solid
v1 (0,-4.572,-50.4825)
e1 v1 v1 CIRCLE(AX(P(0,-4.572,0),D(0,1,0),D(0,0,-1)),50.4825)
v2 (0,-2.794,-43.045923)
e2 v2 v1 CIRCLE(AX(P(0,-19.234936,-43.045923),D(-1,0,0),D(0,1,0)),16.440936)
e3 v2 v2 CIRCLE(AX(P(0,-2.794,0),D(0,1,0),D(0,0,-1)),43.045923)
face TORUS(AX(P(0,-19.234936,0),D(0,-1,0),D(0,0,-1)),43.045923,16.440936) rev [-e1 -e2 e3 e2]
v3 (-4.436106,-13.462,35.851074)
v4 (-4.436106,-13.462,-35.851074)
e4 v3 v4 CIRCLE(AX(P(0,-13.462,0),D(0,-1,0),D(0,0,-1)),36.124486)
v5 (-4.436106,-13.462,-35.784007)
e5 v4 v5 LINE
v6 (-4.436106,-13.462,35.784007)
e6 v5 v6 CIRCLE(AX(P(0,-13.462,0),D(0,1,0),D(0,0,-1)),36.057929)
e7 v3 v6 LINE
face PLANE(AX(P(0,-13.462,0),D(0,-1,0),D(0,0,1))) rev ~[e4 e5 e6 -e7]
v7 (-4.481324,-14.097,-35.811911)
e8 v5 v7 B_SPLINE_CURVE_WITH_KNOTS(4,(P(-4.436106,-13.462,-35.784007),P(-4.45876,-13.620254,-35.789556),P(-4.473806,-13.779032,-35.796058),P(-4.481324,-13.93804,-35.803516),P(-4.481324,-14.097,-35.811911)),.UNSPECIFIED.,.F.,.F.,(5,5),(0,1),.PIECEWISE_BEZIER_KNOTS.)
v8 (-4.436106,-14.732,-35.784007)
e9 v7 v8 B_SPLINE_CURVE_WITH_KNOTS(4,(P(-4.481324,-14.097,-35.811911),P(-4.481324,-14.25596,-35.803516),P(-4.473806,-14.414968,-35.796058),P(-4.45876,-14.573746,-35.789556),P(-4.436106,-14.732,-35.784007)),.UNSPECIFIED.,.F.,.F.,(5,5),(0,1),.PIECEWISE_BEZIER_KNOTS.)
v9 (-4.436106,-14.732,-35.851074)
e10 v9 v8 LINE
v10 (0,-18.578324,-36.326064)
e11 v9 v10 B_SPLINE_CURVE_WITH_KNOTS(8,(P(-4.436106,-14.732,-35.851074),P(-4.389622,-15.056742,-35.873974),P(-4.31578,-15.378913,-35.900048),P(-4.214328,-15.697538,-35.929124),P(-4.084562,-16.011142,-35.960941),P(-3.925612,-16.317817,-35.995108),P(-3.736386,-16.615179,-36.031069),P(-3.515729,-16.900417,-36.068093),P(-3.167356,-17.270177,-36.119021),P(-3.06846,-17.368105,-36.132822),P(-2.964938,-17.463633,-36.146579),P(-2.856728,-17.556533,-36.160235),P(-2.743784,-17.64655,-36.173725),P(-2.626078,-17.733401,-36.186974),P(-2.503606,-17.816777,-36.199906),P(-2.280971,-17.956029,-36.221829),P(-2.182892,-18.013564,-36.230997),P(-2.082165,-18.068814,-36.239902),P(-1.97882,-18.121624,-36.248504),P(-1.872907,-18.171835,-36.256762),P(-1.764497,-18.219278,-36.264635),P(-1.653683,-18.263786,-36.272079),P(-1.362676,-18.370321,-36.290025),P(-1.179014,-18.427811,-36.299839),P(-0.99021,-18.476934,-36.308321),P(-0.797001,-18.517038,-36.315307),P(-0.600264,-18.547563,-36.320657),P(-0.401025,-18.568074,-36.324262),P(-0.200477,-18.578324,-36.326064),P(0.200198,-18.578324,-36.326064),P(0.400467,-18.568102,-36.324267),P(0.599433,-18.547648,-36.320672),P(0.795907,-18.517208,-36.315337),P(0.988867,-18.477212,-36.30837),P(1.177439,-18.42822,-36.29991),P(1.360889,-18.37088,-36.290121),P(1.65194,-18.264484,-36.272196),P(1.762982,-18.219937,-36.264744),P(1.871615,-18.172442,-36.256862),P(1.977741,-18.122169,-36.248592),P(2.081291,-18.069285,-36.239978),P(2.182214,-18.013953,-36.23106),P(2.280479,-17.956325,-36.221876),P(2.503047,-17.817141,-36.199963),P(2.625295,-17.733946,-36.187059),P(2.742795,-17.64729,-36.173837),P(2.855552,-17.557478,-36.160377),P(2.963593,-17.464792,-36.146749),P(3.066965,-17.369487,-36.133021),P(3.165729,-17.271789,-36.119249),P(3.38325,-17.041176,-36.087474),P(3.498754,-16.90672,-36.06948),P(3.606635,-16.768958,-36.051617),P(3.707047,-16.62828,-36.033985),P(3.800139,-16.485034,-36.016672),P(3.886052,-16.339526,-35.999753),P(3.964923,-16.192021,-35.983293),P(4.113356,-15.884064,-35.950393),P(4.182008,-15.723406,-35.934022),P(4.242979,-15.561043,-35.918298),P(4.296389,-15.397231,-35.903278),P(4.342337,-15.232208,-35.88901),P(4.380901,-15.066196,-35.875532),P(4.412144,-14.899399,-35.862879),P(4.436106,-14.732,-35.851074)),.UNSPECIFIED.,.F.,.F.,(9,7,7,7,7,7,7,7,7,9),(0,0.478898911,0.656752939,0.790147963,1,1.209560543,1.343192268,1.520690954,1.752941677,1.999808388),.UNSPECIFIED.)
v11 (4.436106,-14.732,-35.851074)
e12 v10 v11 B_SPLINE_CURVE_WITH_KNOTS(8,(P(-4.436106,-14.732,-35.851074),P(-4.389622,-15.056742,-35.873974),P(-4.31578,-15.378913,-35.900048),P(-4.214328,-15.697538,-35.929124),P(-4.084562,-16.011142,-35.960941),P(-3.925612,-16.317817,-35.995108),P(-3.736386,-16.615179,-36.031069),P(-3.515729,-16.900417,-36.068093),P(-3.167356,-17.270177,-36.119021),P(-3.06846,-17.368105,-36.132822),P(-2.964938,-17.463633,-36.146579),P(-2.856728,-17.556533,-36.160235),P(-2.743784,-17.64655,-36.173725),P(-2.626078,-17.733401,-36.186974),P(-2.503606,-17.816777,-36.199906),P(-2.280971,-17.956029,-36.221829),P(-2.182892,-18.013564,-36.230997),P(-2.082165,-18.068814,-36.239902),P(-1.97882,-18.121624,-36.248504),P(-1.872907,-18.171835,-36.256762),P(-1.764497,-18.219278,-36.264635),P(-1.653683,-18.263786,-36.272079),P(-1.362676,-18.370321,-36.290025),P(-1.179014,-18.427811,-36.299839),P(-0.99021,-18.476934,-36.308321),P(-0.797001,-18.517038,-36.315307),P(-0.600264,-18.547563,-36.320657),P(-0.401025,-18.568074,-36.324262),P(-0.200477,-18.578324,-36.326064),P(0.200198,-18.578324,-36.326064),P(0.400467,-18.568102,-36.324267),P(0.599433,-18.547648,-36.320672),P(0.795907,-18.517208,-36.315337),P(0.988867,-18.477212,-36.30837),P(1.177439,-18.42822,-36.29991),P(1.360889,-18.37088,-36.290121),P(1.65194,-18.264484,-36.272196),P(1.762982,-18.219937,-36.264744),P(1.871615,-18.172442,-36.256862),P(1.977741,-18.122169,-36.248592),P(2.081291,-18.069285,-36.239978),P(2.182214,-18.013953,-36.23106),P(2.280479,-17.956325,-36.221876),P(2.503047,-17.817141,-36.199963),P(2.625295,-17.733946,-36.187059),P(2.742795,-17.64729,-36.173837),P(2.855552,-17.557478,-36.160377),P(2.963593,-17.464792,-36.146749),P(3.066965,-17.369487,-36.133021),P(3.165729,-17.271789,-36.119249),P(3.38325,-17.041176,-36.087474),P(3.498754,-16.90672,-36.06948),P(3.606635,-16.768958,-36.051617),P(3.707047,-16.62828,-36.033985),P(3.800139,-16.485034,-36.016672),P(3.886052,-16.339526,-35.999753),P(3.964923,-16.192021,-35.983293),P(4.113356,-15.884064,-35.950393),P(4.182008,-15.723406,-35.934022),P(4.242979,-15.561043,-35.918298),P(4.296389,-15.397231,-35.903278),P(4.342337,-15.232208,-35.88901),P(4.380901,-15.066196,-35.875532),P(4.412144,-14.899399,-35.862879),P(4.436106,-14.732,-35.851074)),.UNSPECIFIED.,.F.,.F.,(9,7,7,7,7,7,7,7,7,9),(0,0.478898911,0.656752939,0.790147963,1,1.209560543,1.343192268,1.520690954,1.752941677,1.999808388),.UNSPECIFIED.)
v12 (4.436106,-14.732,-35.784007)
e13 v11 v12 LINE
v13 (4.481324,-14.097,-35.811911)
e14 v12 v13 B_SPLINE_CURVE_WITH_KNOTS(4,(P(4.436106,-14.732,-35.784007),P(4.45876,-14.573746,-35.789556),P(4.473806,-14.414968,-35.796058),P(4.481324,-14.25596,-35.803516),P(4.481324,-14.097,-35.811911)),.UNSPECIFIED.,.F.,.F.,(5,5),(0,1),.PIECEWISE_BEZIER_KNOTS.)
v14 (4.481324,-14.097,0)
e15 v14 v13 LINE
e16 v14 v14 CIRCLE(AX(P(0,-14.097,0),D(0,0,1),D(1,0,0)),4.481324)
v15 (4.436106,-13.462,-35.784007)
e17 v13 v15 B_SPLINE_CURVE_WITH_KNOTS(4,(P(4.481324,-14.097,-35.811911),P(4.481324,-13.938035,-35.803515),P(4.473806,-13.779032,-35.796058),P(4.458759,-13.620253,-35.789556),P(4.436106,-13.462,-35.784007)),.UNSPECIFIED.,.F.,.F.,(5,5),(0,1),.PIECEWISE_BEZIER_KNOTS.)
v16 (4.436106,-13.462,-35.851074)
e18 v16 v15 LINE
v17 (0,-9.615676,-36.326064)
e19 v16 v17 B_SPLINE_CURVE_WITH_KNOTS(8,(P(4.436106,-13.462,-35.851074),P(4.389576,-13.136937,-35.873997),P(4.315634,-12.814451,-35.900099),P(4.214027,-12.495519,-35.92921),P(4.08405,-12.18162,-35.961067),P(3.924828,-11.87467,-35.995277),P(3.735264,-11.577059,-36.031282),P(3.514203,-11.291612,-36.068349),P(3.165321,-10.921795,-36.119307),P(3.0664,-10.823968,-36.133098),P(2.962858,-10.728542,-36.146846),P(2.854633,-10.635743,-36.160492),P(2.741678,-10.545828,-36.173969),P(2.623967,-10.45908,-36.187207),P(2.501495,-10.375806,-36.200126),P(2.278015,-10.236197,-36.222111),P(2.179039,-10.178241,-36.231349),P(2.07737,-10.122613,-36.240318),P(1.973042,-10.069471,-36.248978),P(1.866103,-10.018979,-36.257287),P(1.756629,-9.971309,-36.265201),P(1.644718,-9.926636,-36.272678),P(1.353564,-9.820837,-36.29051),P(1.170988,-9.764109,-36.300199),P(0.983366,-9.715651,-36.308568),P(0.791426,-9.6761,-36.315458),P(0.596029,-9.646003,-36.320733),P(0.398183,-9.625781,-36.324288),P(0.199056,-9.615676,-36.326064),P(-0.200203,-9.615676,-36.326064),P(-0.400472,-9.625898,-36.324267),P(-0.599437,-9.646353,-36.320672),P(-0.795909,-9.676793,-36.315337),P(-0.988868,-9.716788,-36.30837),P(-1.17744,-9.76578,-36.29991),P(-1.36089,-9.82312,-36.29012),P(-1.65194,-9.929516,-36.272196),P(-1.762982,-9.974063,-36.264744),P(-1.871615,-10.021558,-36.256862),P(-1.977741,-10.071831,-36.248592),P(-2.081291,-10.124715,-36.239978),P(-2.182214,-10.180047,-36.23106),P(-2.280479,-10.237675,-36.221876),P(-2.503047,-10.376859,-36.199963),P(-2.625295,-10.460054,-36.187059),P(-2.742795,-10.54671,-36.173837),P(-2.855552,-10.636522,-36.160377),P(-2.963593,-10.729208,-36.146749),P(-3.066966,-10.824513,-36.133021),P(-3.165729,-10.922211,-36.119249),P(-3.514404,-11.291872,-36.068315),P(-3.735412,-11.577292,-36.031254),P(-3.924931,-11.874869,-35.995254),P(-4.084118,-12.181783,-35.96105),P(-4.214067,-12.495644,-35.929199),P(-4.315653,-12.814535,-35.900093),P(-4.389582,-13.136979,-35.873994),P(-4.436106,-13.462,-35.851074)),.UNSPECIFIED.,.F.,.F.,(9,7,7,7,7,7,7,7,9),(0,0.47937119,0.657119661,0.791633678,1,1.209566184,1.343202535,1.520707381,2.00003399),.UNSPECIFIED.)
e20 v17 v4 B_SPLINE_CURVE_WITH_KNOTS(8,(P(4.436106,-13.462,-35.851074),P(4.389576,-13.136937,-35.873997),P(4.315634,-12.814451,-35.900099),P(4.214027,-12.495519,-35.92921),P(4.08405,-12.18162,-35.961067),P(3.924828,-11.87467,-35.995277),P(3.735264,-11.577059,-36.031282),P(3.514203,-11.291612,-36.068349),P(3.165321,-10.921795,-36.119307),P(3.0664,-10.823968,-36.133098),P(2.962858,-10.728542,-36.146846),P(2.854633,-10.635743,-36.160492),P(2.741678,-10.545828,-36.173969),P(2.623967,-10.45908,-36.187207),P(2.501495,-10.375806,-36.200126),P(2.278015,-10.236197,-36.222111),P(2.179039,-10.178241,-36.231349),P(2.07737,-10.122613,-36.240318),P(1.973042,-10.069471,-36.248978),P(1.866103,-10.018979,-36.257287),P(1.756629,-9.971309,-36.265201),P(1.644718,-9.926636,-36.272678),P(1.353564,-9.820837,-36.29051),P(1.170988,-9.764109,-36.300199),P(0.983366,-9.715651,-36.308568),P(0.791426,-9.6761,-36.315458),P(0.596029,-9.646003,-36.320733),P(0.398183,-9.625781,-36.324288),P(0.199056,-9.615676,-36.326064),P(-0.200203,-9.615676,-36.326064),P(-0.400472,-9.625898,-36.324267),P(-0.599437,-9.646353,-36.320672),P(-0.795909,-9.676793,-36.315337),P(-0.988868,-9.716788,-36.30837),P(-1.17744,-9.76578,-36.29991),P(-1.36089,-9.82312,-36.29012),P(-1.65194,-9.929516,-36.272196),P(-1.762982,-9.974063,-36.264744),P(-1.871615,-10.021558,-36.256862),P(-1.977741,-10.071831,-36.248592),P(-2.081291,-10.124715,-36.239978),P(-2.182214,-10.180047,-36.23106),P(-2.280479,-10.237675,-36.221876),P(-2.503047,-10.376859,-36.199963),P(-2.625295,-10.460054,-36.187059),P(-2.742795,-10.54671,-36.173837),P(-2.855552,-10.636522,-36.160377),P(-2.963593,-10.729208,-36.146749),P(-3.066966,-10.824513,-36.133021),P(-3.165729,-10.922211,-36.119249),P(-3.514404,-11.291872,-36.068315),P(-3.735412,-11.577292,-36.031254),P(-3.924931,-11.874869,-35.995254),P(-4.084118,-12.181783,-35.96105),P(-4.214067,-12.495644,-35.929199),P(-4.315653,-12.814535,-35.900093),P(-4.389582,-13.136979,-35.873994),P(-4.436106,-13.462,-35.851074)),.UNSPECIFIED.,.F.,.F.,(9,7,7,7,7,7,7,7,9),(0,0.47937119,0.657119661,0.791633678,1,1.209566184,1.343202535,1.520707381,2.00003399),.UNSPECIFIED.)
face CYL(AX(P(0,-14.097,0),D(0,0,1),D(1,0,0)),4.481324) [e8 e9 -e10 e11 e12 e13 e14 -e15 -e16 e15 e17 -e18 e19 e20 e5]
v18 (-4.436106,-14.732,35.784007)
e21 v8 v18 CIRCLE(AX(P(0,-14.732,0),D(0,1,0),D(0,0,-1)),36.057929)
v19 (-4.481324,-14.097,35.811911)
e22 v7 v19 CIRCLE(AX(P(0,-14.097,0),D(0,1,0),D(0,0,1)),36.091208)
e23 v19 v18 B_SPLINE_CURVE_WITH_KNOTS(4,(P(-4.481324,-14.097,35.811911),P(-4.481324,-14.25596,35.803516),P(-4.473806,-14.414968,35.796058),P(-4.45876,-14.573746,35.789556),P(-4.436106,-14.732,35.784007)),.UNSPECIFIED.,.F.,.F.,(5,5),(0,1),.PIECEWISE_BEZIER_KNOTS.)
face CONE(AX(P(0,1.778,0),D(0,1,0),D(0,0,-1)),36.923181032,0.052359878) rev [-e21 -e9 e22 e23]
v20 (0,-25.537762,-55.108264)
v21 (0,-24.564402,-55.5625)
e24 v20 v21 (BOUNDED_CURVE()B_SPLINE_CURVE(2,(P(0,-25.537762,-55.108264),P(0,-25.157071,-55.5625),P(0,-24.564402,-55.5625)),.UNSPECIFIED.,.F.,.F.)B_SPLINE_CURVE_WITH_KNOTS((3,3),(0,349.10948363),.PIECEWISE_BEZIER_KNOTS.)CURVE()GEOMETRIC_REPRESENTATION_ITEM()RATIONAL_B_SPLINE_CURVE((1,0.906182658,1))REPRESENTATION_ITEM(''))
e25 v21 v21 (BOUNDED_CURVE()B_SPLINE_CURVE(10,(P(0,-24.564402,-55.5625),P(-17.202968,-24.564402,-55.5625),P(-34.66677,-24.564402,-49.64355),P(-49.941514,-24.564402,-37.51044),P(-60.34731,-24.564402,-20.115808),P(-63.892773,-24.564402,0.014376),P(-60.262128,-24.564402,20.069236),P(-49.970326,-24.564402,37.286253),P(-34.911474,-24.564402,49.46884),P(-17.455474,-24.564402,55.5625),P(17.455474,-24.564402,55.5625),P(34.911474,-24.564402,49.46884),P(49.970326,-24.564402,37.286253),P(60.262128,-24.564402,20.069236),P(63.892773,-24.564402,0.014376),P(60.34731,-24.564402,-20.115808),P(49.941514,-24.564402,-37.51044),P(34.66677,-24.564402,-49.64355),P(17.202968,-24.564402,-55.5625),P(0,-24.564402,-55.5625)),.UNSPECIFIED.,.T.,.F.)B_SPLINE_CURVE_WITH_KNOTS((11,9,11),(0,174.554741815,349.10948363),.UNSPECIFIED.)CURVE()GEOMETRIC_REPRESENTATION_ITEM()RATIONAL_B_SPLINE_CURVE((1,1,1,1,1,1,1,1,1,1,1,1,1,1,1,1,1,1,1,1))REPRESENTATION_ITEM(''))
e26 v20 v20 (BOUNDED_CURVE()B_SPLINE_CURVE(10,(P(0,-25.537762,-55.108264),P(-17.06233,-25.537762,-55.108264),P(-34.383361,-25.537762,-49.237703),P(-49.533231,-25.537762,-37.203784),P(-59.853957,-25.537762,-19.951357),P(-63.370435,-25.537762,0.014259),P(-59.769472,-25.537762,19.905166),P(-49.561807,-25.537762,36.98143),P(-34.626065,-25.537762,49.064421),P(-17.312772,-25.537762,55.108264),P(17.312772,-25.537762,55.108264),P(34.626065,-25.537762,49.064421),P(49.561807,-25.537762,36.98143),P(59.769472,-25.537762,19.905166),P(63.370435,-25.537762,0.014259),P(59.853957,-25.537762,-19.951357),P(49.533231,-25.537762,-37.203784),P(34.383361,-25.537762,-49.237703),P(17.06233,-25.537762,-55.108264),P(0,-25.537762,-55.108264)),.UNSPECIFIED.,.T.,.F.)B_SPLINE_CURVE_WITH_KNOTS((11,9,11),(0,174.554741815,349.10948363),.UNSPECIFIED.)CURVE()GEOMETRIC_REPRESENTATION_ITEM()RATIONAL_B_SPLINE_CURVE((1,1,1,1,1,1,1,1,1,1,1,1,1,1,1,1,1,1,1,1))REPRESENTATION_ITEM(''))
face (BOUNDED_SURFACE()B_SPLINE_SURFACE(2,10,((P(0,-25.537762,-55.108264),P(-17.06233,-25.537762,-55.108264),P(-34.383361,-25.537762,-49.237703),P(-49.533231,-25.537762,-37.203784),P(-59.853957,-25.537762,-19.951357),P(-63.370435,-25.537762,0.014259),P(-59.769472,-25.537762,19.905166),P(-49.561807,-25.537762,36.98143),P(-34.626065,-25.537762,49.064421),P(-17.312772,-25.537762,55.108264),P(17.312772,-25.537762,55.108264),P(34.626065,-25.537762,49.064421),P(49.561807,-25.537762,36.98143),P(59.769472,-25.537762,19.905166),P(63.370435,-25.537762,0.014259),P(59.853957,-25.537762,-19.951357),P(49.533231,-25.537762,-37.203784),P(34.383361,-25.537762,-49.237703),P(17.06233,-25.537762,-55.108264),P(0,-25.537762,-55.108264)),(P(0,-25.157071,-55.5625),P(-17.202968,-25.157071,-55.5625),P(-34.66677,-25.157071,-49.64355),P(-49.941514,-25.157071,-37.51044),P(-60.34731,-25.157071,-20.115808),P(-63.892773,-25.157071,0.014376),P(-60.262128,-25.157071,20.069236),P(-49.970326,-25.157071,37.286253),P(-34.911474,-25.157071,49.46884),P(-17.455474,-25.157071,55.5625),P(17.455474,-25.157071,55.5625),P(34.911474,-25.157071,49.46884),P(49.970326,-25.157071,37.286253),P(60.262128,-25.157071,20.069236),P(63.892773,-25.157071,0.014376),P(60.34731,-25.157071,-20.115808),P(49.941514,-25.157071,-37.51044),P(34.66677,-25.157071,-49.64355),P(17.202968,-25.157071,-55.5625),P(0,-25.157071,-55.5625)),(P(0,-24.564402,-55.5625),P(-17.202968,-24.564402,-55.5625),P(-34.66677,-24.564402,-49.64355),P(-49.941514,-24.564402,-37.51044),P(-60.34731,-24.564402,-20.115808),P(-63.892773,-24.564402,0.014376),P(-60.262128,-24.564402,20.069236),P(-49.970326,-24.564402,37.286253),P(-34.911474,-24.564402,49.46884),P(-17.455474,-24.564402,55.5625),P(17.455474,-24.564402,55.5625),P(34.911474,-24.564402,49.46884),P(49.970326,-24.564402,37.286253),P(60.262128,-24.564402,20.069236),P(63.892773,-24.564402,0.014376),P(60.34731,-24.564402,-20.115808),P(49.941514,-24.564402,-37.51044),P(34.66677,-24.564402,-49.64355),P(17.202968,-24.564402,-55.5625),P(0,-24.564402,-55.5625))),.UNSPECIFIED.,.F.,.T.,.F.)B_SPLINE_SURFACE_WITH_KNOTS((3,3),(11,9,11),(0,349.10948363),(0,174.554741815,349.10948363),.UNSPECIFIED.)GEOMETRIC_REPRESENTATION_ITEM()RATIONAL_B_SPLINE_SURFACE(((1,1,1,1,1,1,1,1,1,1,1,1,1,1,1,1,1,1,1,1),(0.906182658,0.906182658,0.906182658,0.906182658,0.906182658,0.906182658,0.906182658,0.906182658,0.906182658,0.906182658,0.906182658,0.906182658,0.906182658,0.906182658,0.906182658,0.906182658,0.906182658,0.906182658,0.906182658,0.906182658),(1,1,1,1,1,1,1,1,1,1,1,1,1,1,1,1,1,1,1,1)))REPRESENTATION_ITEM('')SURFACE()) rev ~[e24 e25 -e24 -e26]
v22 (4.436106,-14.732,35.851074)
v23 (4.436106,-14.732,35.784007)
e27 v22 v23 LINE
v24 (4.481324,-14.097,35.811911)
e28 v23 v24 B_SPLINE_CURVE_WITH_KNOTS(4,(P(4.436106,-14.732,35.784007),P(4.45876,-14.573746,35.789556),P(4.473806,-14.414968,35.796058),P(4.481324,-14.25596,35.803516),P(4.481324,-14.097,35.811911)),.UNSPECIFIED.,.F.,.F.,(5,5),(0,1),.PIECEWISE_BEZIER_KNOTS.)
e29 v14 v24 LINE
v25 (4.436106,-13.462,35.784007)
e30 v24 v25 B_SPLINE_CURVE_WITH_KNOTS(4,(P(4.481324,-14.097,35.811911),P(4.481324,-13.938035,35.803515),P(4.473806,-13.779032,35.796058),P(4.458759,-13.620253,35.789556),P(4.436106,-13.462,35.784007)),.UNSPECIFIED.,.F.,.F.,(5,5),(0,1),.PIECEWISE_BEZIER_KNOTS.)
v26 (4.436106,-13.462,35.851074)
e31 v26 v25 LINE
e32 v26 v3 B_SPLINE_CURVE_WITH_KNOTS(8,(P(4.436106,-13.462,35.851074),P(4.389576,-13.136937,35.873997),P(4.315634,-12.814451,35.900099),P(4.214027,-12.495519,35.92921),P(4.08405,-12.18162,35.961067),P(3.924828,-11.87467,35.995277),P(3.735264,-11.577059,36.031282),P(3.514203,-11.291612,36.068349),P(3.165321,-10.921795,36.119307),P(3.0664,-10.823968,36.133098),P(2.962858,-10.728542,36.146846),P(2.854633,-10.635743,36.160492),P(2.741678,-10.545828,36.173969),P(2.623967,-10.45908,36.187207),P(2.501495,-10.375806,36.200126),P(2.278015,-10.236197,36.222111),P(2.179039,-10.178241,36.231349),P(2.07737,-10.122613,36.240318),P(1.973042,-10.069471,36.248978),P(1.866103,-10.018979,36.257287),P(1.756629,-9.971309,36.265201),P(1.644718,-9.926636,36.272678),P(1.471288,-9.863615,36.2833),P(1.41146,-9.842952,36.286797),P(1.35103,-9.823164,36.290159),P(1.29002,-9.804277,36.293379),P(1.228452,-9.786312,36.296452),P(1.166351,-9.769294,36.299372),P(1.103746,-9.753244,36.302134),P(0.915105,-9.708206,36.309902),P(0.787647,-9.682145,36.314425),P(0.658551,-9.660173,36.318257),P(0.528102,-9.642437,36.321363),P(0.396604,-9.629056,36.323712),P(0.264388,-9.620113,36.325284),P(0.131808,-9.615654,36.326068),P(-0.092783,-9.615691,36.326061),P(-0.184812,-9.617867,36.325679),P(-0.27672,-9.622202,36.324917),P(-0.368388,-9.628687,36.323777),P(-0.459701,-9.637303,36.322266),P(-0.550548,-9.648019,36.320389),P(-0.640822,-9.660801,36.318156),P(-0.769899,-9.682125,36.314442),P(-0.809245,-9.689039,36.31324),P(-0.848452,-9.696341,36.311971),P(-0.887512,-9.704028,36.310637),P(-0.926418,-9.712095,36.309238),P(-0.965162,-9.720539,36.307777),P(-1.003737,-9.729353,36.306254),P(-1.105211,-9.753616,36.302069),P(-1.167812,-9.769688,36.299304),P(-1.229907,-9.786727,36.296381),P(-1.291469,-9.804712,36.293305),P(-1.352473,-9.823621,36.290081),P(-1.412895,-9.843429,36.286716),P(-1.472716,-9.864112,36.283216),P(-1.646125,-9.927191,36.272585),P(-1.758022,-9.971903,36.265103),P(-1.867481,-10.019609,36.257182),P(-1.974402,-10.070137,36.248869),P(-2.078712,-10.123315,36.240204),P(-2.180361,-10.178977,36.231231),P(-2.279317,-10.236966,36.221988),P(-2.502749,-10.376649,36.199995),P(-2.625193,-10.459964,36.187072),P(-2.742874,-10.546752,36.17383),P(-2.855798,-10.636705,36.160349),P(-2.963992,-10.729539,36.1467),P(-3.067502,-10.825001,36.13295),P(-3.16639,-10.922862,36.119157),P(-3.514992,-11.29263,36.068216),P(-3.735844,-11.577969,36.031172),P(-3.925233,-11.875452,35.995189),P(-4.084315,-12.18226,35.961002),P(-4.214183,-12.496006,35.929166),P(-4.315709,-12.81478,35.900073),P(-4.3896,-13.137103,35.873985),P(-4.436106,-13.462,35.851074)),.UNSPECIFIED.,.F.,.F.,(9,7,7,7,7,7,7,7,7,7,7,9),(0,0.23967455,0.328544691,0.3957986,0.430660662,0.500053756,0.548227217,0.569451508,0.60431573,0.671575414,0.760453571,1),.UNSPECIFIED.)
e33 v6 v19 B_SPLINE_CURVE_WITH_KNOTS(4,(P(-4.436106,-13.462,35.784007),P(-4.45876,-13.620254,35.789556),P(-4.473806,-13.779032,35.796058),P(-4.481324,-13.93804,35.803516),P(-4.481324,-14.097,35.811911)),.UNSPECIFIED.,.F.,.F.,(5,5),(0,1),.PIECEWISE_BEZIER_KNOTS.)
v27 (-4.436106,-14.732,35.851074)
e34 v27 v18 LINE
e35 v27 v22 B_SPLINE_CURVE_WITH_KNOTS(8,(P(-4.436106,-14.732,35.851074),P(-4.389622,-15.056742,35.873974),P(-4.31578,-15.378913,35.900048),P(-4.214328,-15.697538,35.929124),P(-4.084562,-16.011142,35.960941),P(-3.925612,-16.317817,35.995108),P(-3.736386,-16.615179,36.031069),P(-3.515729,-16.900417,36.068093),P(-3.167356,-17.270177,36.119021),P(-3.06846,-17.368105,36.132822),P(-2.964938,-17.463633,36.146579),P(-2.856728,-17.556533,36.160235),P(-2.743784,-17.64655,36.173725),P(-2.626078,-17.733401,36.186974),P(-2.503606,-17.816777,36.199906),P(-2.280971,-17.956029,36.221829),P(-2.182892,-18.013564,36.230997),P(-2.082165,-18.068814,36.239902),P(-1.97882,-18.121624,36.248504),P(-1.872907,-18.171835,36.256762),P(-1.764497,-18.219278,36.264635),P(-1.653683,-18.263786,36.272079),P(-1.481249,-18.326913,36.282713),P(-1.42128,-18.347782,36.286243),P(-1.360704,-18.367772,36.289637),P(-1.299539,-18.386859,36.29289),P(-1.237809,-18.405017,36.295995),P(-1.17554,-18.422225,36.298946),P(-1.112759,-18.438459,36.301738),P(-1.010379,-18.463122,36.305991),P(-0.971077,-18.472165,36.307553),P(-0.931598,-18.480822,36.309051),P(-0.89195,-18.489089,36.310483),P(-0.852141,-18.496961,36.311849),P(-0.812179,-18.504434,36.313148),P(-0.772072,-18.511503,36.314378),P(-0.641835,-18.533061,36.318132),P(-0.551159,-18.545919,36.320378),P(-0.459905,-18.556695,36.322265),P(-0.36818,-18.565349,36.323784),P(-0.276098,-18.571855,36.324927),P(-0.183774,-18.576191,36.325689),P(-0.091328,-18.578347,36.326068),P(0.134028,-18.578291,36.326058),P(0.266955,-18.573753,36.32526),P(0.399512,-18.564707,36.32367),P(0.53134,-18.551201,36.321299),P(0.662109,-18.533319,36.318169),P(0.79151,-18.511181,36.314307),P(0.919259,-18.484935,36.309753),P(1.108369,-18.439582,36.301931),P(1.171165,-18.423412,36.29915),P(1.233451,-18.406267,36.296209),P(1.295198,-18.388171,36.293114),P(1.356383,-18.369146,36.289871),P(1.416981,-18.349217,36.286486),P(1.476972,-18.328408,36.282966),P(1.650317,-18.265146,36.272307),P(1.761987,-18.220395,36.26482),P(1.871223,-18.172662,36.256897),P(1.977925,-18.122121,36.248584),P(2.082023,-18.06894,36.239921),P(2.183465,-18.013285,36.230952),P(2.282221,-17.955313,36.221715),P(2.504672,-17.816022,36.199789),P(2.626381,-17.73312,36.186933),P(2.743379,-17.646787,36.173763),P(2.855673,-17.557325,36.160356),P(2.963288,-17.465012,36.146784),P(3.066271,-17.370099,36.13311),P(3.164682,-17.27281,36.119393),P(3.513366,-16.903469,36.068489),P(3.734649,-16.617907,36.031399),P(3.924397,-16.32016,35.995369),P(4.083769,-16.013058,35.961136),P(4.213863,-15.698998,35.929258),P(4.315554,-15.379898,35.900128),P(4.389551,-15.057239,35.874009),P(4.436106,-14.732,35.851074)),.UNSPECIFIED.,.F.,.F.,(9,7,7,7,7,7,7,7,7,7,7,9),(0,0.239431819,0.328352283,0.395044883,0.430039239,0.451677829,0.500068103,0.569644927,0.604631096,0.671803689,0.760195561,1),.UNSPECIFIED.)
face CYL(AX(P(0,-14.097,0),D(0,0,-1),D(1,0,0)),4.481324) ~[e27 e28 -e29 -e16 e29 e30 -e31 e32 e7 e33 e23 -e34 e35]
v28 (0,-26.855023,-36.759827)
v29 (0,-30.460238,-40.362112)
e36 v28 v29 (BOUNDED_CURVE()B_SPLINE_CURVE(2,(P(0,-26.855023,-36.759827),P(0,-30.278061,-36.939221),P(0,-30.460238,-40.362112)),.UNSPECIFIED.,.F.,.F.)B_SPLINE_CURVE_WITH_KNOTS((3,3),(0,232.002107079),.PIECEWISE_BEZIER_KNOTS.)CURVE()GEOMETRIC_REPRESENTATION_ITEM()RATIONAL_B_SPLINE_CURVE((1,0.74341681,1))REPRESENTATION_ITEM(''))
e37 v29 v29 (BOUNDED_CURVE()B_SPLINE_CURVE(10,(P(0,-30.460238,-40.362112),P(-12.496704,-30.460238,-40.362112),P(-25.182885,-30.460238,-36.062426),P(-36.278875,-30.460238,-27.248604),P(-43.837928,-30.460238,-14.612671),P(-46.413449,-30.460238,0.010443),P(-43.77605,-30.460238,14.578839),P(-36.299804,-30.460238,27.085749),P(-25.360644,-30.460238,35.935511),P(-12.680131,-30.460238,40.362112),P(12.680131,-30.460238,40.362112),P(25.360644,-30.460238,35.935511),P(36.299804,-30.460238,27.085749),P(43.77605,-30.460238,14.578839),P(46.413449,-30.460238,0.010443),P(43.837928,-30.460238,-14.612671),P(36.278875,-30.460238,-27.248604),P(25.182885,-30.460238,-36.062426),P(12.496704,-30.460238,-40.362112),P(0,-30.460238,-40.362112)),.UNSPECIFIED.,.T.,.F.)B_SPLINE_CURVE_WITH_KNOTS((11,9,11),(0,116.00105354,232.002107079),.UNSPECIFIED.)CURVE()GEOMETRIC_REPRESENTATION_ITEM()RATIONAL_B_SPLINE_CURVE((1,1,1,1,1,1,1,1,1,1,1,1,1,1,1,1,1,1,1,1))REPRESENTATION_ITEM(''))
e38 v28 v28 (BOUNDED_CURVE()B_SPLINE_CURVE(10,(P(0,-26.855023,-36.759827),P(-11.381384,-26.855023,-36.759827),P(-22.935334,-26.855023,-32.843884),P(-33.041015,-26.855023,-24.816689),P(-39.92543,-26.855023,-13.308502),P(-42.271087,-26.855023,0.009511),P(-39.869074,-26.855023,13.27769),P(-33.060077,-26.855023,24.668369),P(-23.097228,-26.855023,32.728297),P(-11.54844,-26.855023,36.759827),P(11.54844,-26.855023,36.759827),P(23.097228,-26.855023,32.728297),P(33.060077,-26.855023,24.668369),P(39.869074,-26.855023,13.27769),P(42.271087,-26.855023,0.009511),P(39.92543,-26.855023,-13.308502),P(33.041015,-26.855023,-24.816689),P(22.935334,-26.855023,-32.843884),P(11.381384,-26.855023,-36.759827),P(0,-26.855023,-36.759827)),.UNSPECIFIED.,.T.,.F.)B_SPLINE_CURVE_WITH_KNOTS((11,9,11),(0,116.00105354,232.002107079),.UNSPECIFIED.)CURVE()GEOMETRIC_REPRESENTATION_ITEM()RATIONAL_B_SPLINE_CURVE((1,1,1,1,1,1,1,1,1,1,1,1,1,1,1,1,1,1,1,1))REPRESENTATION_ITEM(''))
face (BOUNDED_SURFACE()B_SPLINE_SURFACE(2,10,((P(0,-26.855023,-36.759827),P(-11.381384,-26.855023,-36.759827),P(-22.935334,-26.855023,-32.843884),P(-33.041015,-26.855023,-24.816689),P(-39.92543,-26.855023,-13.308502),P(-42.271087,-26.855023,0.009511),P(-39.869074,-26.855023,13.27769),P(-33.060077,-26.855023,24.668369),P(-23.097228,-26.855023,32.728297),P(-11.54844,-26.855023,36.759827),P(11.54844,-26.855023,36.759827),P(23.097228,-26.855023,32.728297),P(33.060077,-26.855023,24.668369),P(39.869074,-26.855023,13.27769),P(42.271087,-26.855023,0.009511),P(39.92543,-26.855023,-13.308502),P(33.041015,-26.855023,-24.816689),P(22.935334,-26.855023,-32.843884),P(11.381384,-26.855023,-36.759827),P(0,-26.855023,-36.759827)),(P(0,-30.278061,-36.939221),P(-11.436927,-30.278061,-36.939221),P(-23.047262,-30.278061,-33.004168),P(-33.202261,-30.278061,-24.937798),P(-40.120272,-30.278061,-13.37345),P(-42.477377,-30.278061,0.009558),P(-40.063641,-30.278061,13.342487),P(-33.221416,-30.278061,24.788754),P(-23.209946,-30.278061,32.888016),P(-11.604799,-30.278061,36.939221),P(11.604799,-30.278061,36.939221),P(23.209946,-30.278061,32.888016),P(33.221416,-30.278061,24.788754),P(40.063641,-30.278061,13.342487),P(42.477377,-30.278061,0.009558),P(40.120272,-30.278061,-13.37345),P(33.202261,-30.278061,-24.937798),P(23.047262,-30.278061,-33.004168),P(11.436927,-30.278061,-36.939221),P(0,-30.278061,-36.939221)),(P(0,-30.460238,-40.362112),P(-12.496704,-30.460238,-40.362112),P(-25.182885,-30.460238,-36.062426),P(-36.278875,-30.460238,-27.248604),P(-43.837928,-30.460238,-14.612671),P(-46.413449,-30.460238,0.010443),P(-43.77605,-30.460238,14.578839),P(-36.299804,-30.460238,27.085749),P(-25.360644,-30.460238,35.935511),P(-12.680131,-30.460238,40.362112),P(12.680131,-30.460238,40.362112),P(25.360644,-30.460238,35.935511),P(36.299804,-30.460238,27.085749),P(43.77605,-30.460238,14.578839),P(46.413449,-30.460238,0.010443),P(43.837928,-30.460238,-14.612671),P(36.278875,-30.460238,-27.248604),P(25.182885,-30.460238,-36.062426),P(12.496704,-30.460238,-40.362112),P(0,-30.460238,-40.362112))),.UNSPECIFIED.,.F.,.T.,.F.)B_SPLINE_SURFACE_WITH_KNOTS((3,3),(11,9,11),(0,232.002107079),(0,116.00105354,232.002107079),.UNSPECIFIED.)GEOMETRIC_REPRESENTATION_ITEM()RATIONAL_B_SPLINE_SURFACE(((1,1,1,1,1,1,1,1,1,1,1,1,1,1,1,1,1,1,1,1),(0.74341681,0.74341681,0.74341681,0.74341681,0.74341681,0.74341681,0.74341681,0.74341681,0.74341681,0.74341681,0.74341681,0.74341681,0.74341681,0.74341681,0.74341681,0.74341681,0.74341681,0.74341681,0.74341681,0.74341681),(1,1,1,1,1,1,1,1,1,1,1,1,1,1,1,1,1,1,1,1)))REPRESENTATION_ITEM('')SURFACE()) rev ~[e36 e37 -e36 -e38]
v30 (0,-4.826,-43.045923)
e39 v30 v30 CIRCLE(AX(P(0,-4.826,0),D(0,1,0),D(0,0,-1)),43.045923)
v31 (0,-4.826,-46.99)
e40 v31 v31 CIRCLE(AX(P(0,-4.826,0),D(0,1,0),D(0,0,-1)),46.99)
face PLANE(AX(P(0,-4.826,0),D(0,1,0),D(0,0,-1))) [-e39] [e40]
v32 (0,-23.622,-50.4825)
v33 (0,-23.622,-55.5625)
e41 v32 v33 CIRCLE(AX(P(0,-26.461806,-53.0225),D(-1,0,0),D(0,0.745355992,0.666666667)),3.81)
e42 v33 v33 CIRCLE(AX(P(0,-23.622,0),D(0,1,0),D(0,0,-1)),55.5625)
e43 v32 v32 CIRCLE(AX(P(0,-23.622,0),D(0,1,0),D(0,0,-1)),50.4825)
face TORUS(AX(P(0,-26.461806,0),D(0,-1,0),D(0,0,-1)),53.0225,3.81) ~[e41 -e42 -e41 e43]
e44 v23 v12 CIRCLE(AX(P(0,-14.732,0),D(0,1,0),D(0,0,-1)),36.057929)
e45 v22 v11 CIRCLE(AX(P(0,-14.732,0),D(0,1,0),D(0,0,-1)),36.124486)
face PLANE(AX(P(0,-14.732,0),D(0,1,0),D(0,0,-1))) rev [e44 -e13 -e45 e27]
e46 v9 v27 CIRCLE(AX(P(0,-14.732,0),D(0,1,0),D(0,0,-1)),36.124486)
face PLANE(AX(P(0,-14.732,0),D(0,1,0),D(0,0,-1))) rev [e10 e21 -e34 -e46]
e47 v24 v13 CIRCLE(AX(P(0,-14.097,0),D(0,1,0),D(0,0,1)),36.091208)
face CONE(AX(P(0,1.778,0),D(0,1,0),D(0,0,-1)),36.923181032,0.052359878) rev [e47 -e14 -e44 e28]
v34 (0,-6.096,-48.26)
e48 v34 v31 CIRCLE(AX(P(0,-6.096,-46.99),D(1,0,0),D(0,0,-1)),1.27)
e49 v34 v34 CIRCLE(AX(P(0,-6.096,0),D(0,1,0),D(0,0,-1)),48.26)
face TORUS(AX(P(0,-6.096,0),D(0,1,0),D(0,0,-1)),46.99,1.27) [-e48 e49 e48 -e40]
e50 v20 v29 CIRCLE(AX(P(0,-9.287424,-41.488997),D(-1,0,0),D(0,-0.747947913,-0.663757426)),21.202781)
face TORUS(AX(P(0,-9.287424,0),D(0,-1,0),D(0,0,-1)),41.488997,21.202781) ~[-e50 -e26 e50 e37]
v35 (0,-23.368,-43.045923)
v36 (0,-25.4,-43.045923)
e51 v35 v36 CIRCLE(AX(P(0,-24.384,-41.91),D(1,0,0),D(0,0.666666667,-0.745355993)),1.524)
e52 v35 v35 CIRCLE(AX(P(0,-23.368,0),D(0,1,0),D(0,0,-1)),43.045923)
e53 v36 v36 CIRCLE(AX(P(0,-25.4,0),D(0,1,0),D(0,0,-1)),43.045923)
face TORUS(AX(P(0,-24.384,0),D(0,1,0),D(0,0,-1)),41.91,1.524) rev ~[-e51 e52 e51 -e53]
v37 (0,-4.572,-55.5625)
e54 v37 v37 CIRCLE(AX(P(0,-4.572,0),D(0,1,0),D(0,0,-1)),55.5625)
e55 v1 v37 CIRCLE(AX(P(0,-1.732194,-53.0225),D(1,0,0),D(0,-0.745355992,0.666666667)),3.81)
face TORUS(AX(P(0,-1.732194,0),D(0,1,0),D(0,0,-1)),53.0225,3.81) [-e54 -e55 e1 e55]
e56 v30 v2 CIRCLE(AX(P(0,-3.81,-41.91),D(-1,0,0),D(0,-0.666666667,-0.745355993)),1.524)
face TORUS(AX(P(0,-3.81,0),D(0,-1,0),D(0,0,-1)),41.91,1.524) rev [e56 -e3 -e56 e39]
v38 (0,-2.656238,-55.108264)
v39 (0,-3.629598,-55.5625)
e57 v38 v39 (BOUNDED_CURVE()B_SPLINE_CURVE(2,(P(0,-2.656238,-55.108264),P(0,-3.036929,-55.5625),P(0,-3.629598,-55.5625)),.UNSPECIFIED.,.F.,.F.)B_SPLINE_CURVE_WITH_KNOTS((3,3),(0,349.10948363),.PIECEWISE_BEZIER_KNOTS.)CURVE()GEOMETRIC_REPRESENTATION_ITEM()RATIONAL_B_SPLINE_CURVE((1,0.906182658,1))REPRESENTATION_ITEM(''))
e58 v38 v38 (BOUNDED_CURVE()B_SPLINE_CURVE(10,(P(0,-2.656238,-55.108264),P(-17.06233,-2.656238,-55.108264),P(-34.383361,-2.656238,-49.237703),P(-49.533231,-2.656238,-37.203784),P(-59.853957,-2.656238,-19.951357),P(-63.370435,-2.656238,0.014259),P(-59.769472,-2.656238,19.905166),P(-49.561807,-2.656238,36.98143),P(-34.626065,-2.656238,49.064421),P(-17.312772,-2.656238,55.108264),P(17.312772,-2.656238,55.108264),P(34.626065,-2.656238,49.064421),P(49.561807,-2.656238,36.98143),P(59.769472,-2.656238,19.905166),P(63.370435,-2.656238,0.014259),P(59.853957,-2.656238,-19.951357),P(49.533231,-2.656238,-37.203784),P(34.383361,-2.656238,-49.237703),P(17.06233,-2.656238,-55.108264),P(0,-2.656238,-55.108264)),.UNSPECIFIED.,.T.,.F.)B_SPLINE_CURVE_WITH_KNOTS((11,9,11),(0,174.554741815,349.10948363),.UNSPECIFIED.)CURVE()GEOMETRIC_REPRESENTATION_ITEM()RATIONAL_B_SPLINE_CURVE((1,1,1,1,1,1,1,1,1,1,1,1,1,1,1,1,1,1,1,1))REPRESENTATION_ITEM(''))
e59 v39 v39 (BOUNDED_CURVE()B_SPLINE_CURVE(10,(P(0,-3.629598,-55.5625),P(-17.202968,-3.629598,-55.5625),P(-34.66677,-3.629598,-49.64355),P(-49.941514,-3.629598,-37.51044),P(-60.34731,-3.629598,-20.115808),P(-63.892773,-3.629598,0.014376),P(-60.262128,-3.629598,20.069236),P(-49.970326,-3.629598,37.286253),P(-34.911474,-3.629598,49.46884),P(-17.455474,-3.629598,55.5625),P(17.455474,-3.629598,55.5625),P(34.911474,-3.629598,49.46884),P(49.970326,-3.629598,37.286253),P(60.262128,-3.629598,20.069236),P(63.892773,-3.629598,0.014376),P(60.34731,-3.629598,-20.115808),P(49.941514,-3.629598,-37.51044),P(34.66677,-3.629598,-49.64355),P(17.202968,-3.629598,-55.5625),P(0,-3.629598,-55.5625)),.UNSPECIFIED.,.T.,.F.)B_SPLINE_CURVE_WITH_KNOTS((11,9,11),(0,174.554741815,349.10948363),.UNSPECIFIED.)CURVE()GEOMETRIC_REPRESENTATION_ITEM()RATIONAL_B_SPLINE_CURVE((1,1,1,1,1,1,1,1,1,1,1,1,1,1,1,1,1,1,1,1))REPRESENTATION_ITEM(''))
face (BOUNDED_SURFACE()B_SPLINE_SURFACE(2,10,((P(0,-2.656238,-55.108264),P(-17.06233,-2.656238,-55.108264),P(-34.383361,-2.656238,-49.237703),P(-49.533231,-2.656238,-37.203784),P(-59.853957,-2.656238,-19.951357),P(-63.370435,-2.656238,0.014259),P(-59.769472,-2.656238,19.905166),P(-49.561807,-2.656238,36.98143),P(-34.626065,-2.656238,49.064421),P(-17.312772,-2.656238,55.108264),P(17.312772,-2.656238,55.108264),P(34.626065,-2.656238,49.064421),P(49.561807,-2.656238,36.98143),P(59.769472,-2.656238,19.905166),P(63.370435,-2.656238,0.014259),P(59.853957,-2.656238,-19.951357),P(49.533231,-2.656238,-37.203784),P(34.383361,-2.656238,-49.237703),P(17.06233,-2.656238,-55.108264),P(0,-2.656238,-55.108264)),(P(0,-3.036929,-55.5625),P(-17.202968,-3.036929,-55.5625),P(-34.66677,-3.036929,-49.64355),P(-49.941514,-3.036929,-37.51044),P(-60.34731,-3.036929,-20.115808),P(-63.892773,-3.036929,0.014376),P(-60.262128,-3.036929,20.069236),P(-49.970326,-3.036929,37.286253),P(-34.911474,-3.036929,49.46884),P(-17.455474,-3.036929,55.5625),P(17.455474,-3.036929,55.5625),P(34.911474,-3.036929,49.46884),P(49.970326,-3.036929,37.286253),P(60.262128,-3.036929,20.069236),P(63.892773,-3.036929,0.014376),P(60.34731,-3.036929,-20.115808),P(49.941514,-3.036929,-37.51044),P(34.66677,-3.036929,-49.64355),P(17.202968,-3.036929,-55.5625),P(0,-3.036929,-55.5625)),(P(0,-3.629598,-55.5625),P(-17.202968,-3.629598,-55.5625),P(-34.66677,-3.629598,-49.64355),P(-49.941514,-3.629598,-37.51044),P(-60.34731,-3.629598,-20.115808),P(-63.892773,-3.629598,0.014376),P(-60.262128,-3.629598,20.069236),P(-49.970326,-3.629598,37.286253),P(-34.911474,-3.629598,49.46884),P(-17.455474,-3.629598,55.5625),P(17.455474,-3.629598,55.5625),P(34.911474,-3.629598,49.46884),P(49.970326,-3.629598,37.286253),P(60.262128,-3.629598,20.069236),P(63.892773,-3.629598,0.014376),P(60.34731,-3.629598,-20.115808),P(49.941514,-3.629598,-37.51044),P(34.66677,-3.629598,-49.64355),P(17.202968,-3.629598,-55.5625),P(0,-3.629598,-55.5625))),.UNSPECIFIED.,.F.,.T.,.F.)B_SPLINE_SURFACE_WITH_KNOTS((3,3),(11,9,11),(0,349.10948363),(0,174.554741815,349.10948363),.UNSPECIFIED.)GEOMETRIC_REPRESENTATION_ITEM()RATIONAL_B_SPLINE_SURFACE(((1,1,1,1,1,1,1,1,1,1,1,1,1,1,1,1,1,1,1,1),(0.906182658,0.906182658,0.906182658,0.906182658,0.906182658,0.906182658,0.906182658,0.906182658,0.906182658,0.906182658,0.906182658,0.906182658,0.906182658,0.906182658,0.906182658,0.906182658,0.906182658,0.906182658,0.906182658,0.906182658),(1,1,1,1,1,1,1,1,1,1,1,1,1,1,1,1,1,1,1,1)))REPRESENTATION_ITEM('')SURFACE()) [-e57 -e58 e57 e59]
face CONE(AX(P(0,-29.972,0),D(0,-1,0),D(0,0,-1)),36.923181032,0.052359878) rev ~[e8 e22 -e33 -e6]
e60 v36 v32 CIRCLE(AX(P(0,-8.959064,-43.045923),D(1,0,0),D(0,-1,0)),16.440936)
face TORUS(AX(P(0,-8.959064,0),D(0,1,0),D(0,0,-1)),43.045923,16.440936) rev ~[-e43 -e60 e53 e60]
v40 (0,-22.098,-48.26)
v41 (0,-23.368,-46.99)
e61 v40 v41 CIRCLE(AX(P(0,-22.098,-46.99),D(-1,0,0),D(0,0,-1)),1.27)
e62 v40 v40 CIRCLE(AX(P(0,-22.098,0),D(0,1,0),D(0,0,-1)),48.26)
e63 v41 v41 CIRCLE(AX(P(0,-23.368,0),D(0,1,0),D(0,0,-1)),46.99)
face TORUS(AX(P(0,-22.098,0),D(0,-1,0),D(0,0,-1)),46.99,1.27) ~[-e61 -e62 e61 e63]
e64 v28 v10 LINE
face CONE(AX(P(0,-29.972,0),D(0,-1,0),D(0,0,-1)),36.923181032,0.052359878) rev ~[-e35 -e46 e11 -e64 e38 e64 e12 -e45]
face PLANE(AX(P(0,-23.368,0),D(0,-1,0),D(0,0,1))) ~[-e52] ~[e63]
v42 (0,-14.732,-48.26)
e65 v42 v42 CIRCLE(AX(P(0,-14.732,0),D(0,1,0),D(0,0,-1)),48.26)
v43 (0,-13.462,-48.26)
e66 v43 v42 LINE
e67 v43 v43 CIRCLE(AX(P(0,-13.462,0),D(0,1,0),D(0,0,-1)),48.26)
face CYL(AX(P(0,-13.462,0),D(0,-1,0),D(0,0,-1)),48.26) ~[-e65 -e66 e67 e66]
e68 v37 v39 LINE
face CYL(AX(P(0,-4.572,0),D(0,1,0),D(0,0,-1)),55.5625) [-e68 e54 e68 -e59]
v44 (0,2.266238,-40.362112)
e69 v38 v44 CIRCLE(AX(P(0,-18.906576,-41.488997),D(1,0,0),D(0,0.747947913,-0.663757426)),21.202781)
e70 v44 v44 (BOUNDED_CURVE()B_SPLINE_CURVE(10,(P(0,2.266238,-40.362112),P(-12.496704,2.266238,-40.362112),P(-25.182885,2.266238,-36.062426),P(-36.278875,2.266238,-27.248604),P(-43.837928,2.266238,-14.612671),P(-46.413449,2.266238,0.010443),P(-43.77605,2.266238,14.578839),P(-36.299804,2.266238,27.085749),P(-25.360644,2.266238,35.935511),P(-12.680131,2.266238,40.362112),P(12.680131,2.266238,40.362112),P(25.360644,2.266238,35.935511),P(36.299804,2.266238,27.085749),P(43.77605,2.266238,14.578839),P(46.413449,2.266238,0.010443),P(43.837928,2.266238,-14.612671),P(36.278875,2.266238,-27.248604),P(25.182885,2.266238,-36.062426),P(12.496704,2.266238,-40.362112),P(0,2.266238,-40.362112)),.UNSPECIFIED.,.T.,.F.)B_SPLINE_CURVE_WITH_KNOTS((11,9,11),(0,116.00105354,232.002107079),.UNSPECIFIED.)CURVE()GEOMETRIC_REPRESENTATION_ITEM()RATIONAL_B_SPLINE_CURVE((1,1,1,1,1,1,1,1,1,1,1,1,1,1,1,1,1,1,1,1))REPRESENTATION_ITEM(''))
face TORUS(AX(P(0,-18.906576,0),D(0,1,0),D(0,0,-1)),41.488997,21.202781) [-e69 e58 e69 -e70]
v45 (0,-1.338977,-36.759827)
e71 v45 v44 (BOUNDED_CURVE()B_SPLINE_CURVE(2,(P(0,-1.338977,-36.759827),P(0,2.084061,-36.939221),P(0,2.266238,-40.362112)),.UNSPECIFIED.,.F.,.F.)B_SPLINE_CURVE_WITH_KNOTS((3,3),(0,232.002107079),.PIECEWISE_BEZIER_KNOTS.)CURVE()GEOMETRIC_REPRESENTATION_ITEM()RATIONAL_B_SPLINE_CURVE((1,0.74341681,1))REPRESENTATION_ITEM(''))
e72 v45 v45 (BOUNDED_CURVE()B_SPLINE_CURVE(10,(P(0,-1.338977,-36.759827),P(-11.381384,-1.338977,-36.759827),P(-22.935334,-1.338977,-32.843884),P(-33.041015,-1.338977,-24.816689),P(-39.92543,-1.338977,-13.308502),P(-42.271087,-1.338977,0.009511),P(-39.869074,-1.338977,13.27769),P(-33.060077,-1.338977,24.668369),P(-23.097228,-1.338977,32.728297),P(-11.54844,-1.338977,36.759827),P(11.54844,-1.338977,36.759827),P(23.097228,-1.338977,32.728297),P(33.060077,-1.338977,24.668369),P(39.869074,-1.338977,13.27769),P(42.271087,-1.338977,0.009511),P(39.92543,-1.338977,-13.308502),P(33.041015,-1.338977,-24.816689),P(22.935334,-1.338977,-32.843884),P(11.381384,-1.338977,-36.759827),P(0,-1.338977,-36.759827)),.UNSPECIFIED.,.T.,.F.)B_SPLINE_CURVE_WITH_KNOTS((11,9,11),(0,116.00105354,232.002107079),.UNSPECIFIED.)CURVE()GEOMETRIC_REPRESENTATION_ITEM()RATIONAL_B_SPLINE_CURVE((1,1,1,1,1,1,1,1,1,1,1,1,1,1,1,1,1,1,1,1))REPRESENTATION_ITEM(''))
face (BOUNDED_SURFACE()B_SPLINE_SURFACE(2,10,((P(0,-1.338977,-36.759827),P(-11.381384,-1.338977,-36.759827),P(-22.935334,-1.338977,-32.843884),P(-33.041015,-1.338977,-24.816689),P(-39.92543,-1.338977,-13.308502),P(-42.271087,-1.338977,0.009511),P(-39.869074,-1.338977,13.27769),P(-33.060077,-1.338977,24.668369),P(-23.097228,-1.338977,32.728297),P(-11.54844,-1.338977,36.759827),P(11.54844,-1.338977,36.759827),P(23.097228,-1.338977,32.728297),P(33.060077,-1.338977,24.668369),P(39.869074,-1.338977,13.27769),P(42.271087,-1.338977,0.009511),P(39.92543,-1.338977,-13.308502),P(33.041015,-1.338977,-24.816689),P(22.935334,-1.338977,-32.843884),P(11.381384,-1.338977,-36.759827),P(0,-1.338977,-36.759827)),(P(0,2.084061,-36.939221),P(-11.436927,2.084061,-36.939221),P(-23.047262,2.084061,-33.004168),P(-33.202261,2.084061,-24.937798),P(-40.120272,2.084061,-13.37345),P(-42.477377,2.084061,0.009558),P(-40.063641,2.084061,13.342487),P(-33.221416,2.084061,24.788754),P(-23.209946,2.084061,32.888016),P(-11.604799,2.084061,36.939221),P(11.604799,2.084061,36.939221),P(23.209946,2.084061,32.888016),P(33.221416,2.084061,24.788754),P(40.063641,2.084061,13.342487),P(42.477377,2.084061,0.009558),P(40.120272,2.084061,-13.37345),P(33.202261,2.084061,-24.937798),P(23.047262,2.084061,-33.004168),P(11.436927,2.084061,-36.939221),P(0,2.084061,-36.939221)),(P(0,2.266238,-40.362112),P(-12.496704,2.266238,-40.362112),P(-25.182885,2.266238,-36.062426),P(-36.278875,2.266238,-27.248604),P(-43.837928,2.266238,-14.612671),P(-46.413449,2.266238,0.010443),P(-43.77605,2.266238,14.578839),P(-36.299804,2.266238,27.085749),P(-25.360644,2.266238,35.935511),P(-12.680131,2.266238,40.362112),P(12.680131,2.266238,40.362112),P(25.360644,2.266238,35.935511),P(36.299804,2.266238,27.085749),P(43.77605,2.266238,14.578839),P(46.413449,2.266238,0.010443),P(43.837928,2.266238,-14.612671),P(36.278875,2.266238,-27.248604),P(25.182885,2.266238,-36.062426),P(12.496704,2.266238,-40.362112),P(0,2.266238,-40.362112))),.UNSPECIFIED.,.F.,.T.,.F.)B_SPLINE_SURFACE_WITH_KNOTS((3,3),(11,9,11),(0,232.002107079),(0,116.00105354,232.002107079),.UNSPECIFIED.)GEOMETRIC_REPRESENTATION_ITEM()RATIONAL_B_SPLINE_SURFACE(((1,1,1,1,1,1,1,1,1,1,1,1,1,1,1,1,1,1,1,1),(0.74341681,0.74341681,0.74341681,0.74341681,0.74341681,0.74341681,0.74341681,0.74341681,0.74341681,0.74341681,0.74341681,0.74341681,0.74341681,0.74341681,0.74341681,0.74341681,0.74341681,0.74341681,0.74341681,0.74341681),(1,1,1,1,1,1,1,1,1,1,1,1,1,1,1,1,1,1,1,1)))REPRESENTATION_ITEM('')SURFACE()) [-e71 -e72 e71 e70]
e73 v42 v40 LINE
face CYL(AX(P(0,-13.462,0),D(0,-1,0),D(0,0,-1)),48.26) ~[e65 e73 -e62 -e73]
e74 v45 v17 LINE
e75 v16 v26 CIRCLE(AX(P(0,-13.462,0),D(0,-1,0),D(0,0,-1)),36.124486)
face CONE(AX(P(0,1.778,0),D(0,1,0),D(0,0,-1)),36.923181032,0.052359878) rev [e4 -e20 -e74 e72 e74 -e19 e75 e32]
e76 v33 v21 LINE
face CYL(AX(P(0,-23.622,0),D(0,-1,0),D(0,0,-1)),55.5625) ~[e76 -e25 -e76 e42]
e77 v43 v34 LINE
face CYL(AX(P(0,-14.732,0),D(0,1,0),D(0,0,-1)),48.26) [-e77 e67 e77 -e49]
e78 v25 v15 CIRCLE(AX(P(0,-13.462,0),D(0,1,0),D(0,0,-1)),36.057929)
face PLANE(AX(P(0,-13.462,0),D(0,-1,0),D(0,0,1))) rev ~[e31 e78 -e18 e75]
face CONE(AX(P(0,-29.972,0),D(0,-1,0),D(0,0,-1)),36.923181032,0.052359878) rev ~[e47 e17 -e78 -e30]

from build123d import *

# Parameters (mm, degrees)
DRAFT1_ANGLE                    = 3
FILLET3_R                       = 3.81
FILLET4_R                       = 1.27
FILLET5_R                       = 1.27
BOSS_EXTRUDE1_REACH             = 86.285
SKETCH4_R                       = 4.481324099
BOSS_EXTRUDE1_DIRECTION_2_REACH = 86.285


with BuildPart() as part:
    # Sketch1 → Revolve1 (revolve)
    with BuildSketch(Plane.XY, mode=Mode.PRIVATE) as revolve1_sk:
        with BuildLine():
            Line((36.83, 1.778), (36.83, -14.732))
            Line((36.83, -14.732), (48.26, -14.732))
            Line((48.26, -14.732), (48.26, -4.826))
            Line((48.26, -4.826), (43.045922533, -4.826))
            ThreePointArc((43.045922533, -4.826), (40.386, -3.81), (43.045922533, -2.794))
            ThreePointArc((43.045922533, -2.794), (46.869009258, -3.244676951), (50.4825, -4.572))
            ThreePointArc((50.4825, -4.572), (53.0225, -5.542193669), (55.5625, -4.572))
            Line((55.5625, -4.572), (55.5625, -3.048))
            ThreePointArc((55.5625, -3.048), (46.778685012, 1.625767482), (36.83, 1.778))
        make_face()
    revolve(revolve1_sk.sketch.rotate(Axis((0, 0, 0), (0, 1, 0)), 90), axis=Axis((0, 0, 0), (0, 1, 0)))

    # Draft1
    draft1_faces = [part.faces().sort_by_distance(p)[0] for p in [
        (0, -6.477, 36.83),
    ]]
    draft(draft1_faces, Plane.ZX, DRAFT1_ANGLE)

    # Fillet3
    fillet3_edges = [part.edges().sort_by_distance(p)[0] for p in [
        (0, 1.799010579, 36.924282149),
    ]]
    fillet(fillet3_edges, radius=FILLET3_R)

    # Fillet4
    fillet4_edges = [part.edges().sort_by_distance(p)[0] for p in [
        (0, -3.048, 55.5625),
    ]]
    fillet(fillet4_edges, radius=FILLET4_R)

    # Fillet5
    fillet5_edges = [part.edges().sort_by_distance(p)[0] for p in [
        (0, -4.826, 48.26),
    ]]
    fillet(fillet5_edges, radius=FILLET5_R)


with BuildPart() as body_2:
    # Mirror4: mirrored copy
    add(part.part.mirror(Plane.ZX.offset(-14.097)))

    # Combine1: union part
    add(part.part)

    # Sketch4 → Boss-Extrude1 (add, up to next)
    with BuildSketch(Plane.XY, mode=Mode.PRIVATE) as boss_extrude1_sk1:
        with Locations((0, -14.097)):
            Circle(SKETCH4_R)
    boss_extrude1_tool1 = extrude(boss_extrude1_sk1.sketch, amount=BOSS_EXTRUDE1_REACH, mode=Mode.PRIVATE) - body_2.part
    add(boss_extrude1_tool1.solids().sort_by_distance((0, -14.097, 0))[0])

    # Sketch4 → Boss-Extrude1 direction 2 (add, up to next)
    with BuildSketch(Plane.XY, mode=Mode.PRIVATE) as boss_extrude1_direction_2_sk1:
        with Locations((0, -14.097)):
            Circle(SKETCH4_R)
    boss_extrude1_direction_2_tool1 = extrude(boss_extrude1_direction_2_sk1.sketch, amount=-BOSS_EXTRUDE1_DIRECTION_2_REACH, mode=Mode.PRIVATE) - body_2.part
    add(boss_extrude1_direction_2_tool1.solids().sort_by_distance((0, -14.097, 0))[0])


solid = body_2.part
